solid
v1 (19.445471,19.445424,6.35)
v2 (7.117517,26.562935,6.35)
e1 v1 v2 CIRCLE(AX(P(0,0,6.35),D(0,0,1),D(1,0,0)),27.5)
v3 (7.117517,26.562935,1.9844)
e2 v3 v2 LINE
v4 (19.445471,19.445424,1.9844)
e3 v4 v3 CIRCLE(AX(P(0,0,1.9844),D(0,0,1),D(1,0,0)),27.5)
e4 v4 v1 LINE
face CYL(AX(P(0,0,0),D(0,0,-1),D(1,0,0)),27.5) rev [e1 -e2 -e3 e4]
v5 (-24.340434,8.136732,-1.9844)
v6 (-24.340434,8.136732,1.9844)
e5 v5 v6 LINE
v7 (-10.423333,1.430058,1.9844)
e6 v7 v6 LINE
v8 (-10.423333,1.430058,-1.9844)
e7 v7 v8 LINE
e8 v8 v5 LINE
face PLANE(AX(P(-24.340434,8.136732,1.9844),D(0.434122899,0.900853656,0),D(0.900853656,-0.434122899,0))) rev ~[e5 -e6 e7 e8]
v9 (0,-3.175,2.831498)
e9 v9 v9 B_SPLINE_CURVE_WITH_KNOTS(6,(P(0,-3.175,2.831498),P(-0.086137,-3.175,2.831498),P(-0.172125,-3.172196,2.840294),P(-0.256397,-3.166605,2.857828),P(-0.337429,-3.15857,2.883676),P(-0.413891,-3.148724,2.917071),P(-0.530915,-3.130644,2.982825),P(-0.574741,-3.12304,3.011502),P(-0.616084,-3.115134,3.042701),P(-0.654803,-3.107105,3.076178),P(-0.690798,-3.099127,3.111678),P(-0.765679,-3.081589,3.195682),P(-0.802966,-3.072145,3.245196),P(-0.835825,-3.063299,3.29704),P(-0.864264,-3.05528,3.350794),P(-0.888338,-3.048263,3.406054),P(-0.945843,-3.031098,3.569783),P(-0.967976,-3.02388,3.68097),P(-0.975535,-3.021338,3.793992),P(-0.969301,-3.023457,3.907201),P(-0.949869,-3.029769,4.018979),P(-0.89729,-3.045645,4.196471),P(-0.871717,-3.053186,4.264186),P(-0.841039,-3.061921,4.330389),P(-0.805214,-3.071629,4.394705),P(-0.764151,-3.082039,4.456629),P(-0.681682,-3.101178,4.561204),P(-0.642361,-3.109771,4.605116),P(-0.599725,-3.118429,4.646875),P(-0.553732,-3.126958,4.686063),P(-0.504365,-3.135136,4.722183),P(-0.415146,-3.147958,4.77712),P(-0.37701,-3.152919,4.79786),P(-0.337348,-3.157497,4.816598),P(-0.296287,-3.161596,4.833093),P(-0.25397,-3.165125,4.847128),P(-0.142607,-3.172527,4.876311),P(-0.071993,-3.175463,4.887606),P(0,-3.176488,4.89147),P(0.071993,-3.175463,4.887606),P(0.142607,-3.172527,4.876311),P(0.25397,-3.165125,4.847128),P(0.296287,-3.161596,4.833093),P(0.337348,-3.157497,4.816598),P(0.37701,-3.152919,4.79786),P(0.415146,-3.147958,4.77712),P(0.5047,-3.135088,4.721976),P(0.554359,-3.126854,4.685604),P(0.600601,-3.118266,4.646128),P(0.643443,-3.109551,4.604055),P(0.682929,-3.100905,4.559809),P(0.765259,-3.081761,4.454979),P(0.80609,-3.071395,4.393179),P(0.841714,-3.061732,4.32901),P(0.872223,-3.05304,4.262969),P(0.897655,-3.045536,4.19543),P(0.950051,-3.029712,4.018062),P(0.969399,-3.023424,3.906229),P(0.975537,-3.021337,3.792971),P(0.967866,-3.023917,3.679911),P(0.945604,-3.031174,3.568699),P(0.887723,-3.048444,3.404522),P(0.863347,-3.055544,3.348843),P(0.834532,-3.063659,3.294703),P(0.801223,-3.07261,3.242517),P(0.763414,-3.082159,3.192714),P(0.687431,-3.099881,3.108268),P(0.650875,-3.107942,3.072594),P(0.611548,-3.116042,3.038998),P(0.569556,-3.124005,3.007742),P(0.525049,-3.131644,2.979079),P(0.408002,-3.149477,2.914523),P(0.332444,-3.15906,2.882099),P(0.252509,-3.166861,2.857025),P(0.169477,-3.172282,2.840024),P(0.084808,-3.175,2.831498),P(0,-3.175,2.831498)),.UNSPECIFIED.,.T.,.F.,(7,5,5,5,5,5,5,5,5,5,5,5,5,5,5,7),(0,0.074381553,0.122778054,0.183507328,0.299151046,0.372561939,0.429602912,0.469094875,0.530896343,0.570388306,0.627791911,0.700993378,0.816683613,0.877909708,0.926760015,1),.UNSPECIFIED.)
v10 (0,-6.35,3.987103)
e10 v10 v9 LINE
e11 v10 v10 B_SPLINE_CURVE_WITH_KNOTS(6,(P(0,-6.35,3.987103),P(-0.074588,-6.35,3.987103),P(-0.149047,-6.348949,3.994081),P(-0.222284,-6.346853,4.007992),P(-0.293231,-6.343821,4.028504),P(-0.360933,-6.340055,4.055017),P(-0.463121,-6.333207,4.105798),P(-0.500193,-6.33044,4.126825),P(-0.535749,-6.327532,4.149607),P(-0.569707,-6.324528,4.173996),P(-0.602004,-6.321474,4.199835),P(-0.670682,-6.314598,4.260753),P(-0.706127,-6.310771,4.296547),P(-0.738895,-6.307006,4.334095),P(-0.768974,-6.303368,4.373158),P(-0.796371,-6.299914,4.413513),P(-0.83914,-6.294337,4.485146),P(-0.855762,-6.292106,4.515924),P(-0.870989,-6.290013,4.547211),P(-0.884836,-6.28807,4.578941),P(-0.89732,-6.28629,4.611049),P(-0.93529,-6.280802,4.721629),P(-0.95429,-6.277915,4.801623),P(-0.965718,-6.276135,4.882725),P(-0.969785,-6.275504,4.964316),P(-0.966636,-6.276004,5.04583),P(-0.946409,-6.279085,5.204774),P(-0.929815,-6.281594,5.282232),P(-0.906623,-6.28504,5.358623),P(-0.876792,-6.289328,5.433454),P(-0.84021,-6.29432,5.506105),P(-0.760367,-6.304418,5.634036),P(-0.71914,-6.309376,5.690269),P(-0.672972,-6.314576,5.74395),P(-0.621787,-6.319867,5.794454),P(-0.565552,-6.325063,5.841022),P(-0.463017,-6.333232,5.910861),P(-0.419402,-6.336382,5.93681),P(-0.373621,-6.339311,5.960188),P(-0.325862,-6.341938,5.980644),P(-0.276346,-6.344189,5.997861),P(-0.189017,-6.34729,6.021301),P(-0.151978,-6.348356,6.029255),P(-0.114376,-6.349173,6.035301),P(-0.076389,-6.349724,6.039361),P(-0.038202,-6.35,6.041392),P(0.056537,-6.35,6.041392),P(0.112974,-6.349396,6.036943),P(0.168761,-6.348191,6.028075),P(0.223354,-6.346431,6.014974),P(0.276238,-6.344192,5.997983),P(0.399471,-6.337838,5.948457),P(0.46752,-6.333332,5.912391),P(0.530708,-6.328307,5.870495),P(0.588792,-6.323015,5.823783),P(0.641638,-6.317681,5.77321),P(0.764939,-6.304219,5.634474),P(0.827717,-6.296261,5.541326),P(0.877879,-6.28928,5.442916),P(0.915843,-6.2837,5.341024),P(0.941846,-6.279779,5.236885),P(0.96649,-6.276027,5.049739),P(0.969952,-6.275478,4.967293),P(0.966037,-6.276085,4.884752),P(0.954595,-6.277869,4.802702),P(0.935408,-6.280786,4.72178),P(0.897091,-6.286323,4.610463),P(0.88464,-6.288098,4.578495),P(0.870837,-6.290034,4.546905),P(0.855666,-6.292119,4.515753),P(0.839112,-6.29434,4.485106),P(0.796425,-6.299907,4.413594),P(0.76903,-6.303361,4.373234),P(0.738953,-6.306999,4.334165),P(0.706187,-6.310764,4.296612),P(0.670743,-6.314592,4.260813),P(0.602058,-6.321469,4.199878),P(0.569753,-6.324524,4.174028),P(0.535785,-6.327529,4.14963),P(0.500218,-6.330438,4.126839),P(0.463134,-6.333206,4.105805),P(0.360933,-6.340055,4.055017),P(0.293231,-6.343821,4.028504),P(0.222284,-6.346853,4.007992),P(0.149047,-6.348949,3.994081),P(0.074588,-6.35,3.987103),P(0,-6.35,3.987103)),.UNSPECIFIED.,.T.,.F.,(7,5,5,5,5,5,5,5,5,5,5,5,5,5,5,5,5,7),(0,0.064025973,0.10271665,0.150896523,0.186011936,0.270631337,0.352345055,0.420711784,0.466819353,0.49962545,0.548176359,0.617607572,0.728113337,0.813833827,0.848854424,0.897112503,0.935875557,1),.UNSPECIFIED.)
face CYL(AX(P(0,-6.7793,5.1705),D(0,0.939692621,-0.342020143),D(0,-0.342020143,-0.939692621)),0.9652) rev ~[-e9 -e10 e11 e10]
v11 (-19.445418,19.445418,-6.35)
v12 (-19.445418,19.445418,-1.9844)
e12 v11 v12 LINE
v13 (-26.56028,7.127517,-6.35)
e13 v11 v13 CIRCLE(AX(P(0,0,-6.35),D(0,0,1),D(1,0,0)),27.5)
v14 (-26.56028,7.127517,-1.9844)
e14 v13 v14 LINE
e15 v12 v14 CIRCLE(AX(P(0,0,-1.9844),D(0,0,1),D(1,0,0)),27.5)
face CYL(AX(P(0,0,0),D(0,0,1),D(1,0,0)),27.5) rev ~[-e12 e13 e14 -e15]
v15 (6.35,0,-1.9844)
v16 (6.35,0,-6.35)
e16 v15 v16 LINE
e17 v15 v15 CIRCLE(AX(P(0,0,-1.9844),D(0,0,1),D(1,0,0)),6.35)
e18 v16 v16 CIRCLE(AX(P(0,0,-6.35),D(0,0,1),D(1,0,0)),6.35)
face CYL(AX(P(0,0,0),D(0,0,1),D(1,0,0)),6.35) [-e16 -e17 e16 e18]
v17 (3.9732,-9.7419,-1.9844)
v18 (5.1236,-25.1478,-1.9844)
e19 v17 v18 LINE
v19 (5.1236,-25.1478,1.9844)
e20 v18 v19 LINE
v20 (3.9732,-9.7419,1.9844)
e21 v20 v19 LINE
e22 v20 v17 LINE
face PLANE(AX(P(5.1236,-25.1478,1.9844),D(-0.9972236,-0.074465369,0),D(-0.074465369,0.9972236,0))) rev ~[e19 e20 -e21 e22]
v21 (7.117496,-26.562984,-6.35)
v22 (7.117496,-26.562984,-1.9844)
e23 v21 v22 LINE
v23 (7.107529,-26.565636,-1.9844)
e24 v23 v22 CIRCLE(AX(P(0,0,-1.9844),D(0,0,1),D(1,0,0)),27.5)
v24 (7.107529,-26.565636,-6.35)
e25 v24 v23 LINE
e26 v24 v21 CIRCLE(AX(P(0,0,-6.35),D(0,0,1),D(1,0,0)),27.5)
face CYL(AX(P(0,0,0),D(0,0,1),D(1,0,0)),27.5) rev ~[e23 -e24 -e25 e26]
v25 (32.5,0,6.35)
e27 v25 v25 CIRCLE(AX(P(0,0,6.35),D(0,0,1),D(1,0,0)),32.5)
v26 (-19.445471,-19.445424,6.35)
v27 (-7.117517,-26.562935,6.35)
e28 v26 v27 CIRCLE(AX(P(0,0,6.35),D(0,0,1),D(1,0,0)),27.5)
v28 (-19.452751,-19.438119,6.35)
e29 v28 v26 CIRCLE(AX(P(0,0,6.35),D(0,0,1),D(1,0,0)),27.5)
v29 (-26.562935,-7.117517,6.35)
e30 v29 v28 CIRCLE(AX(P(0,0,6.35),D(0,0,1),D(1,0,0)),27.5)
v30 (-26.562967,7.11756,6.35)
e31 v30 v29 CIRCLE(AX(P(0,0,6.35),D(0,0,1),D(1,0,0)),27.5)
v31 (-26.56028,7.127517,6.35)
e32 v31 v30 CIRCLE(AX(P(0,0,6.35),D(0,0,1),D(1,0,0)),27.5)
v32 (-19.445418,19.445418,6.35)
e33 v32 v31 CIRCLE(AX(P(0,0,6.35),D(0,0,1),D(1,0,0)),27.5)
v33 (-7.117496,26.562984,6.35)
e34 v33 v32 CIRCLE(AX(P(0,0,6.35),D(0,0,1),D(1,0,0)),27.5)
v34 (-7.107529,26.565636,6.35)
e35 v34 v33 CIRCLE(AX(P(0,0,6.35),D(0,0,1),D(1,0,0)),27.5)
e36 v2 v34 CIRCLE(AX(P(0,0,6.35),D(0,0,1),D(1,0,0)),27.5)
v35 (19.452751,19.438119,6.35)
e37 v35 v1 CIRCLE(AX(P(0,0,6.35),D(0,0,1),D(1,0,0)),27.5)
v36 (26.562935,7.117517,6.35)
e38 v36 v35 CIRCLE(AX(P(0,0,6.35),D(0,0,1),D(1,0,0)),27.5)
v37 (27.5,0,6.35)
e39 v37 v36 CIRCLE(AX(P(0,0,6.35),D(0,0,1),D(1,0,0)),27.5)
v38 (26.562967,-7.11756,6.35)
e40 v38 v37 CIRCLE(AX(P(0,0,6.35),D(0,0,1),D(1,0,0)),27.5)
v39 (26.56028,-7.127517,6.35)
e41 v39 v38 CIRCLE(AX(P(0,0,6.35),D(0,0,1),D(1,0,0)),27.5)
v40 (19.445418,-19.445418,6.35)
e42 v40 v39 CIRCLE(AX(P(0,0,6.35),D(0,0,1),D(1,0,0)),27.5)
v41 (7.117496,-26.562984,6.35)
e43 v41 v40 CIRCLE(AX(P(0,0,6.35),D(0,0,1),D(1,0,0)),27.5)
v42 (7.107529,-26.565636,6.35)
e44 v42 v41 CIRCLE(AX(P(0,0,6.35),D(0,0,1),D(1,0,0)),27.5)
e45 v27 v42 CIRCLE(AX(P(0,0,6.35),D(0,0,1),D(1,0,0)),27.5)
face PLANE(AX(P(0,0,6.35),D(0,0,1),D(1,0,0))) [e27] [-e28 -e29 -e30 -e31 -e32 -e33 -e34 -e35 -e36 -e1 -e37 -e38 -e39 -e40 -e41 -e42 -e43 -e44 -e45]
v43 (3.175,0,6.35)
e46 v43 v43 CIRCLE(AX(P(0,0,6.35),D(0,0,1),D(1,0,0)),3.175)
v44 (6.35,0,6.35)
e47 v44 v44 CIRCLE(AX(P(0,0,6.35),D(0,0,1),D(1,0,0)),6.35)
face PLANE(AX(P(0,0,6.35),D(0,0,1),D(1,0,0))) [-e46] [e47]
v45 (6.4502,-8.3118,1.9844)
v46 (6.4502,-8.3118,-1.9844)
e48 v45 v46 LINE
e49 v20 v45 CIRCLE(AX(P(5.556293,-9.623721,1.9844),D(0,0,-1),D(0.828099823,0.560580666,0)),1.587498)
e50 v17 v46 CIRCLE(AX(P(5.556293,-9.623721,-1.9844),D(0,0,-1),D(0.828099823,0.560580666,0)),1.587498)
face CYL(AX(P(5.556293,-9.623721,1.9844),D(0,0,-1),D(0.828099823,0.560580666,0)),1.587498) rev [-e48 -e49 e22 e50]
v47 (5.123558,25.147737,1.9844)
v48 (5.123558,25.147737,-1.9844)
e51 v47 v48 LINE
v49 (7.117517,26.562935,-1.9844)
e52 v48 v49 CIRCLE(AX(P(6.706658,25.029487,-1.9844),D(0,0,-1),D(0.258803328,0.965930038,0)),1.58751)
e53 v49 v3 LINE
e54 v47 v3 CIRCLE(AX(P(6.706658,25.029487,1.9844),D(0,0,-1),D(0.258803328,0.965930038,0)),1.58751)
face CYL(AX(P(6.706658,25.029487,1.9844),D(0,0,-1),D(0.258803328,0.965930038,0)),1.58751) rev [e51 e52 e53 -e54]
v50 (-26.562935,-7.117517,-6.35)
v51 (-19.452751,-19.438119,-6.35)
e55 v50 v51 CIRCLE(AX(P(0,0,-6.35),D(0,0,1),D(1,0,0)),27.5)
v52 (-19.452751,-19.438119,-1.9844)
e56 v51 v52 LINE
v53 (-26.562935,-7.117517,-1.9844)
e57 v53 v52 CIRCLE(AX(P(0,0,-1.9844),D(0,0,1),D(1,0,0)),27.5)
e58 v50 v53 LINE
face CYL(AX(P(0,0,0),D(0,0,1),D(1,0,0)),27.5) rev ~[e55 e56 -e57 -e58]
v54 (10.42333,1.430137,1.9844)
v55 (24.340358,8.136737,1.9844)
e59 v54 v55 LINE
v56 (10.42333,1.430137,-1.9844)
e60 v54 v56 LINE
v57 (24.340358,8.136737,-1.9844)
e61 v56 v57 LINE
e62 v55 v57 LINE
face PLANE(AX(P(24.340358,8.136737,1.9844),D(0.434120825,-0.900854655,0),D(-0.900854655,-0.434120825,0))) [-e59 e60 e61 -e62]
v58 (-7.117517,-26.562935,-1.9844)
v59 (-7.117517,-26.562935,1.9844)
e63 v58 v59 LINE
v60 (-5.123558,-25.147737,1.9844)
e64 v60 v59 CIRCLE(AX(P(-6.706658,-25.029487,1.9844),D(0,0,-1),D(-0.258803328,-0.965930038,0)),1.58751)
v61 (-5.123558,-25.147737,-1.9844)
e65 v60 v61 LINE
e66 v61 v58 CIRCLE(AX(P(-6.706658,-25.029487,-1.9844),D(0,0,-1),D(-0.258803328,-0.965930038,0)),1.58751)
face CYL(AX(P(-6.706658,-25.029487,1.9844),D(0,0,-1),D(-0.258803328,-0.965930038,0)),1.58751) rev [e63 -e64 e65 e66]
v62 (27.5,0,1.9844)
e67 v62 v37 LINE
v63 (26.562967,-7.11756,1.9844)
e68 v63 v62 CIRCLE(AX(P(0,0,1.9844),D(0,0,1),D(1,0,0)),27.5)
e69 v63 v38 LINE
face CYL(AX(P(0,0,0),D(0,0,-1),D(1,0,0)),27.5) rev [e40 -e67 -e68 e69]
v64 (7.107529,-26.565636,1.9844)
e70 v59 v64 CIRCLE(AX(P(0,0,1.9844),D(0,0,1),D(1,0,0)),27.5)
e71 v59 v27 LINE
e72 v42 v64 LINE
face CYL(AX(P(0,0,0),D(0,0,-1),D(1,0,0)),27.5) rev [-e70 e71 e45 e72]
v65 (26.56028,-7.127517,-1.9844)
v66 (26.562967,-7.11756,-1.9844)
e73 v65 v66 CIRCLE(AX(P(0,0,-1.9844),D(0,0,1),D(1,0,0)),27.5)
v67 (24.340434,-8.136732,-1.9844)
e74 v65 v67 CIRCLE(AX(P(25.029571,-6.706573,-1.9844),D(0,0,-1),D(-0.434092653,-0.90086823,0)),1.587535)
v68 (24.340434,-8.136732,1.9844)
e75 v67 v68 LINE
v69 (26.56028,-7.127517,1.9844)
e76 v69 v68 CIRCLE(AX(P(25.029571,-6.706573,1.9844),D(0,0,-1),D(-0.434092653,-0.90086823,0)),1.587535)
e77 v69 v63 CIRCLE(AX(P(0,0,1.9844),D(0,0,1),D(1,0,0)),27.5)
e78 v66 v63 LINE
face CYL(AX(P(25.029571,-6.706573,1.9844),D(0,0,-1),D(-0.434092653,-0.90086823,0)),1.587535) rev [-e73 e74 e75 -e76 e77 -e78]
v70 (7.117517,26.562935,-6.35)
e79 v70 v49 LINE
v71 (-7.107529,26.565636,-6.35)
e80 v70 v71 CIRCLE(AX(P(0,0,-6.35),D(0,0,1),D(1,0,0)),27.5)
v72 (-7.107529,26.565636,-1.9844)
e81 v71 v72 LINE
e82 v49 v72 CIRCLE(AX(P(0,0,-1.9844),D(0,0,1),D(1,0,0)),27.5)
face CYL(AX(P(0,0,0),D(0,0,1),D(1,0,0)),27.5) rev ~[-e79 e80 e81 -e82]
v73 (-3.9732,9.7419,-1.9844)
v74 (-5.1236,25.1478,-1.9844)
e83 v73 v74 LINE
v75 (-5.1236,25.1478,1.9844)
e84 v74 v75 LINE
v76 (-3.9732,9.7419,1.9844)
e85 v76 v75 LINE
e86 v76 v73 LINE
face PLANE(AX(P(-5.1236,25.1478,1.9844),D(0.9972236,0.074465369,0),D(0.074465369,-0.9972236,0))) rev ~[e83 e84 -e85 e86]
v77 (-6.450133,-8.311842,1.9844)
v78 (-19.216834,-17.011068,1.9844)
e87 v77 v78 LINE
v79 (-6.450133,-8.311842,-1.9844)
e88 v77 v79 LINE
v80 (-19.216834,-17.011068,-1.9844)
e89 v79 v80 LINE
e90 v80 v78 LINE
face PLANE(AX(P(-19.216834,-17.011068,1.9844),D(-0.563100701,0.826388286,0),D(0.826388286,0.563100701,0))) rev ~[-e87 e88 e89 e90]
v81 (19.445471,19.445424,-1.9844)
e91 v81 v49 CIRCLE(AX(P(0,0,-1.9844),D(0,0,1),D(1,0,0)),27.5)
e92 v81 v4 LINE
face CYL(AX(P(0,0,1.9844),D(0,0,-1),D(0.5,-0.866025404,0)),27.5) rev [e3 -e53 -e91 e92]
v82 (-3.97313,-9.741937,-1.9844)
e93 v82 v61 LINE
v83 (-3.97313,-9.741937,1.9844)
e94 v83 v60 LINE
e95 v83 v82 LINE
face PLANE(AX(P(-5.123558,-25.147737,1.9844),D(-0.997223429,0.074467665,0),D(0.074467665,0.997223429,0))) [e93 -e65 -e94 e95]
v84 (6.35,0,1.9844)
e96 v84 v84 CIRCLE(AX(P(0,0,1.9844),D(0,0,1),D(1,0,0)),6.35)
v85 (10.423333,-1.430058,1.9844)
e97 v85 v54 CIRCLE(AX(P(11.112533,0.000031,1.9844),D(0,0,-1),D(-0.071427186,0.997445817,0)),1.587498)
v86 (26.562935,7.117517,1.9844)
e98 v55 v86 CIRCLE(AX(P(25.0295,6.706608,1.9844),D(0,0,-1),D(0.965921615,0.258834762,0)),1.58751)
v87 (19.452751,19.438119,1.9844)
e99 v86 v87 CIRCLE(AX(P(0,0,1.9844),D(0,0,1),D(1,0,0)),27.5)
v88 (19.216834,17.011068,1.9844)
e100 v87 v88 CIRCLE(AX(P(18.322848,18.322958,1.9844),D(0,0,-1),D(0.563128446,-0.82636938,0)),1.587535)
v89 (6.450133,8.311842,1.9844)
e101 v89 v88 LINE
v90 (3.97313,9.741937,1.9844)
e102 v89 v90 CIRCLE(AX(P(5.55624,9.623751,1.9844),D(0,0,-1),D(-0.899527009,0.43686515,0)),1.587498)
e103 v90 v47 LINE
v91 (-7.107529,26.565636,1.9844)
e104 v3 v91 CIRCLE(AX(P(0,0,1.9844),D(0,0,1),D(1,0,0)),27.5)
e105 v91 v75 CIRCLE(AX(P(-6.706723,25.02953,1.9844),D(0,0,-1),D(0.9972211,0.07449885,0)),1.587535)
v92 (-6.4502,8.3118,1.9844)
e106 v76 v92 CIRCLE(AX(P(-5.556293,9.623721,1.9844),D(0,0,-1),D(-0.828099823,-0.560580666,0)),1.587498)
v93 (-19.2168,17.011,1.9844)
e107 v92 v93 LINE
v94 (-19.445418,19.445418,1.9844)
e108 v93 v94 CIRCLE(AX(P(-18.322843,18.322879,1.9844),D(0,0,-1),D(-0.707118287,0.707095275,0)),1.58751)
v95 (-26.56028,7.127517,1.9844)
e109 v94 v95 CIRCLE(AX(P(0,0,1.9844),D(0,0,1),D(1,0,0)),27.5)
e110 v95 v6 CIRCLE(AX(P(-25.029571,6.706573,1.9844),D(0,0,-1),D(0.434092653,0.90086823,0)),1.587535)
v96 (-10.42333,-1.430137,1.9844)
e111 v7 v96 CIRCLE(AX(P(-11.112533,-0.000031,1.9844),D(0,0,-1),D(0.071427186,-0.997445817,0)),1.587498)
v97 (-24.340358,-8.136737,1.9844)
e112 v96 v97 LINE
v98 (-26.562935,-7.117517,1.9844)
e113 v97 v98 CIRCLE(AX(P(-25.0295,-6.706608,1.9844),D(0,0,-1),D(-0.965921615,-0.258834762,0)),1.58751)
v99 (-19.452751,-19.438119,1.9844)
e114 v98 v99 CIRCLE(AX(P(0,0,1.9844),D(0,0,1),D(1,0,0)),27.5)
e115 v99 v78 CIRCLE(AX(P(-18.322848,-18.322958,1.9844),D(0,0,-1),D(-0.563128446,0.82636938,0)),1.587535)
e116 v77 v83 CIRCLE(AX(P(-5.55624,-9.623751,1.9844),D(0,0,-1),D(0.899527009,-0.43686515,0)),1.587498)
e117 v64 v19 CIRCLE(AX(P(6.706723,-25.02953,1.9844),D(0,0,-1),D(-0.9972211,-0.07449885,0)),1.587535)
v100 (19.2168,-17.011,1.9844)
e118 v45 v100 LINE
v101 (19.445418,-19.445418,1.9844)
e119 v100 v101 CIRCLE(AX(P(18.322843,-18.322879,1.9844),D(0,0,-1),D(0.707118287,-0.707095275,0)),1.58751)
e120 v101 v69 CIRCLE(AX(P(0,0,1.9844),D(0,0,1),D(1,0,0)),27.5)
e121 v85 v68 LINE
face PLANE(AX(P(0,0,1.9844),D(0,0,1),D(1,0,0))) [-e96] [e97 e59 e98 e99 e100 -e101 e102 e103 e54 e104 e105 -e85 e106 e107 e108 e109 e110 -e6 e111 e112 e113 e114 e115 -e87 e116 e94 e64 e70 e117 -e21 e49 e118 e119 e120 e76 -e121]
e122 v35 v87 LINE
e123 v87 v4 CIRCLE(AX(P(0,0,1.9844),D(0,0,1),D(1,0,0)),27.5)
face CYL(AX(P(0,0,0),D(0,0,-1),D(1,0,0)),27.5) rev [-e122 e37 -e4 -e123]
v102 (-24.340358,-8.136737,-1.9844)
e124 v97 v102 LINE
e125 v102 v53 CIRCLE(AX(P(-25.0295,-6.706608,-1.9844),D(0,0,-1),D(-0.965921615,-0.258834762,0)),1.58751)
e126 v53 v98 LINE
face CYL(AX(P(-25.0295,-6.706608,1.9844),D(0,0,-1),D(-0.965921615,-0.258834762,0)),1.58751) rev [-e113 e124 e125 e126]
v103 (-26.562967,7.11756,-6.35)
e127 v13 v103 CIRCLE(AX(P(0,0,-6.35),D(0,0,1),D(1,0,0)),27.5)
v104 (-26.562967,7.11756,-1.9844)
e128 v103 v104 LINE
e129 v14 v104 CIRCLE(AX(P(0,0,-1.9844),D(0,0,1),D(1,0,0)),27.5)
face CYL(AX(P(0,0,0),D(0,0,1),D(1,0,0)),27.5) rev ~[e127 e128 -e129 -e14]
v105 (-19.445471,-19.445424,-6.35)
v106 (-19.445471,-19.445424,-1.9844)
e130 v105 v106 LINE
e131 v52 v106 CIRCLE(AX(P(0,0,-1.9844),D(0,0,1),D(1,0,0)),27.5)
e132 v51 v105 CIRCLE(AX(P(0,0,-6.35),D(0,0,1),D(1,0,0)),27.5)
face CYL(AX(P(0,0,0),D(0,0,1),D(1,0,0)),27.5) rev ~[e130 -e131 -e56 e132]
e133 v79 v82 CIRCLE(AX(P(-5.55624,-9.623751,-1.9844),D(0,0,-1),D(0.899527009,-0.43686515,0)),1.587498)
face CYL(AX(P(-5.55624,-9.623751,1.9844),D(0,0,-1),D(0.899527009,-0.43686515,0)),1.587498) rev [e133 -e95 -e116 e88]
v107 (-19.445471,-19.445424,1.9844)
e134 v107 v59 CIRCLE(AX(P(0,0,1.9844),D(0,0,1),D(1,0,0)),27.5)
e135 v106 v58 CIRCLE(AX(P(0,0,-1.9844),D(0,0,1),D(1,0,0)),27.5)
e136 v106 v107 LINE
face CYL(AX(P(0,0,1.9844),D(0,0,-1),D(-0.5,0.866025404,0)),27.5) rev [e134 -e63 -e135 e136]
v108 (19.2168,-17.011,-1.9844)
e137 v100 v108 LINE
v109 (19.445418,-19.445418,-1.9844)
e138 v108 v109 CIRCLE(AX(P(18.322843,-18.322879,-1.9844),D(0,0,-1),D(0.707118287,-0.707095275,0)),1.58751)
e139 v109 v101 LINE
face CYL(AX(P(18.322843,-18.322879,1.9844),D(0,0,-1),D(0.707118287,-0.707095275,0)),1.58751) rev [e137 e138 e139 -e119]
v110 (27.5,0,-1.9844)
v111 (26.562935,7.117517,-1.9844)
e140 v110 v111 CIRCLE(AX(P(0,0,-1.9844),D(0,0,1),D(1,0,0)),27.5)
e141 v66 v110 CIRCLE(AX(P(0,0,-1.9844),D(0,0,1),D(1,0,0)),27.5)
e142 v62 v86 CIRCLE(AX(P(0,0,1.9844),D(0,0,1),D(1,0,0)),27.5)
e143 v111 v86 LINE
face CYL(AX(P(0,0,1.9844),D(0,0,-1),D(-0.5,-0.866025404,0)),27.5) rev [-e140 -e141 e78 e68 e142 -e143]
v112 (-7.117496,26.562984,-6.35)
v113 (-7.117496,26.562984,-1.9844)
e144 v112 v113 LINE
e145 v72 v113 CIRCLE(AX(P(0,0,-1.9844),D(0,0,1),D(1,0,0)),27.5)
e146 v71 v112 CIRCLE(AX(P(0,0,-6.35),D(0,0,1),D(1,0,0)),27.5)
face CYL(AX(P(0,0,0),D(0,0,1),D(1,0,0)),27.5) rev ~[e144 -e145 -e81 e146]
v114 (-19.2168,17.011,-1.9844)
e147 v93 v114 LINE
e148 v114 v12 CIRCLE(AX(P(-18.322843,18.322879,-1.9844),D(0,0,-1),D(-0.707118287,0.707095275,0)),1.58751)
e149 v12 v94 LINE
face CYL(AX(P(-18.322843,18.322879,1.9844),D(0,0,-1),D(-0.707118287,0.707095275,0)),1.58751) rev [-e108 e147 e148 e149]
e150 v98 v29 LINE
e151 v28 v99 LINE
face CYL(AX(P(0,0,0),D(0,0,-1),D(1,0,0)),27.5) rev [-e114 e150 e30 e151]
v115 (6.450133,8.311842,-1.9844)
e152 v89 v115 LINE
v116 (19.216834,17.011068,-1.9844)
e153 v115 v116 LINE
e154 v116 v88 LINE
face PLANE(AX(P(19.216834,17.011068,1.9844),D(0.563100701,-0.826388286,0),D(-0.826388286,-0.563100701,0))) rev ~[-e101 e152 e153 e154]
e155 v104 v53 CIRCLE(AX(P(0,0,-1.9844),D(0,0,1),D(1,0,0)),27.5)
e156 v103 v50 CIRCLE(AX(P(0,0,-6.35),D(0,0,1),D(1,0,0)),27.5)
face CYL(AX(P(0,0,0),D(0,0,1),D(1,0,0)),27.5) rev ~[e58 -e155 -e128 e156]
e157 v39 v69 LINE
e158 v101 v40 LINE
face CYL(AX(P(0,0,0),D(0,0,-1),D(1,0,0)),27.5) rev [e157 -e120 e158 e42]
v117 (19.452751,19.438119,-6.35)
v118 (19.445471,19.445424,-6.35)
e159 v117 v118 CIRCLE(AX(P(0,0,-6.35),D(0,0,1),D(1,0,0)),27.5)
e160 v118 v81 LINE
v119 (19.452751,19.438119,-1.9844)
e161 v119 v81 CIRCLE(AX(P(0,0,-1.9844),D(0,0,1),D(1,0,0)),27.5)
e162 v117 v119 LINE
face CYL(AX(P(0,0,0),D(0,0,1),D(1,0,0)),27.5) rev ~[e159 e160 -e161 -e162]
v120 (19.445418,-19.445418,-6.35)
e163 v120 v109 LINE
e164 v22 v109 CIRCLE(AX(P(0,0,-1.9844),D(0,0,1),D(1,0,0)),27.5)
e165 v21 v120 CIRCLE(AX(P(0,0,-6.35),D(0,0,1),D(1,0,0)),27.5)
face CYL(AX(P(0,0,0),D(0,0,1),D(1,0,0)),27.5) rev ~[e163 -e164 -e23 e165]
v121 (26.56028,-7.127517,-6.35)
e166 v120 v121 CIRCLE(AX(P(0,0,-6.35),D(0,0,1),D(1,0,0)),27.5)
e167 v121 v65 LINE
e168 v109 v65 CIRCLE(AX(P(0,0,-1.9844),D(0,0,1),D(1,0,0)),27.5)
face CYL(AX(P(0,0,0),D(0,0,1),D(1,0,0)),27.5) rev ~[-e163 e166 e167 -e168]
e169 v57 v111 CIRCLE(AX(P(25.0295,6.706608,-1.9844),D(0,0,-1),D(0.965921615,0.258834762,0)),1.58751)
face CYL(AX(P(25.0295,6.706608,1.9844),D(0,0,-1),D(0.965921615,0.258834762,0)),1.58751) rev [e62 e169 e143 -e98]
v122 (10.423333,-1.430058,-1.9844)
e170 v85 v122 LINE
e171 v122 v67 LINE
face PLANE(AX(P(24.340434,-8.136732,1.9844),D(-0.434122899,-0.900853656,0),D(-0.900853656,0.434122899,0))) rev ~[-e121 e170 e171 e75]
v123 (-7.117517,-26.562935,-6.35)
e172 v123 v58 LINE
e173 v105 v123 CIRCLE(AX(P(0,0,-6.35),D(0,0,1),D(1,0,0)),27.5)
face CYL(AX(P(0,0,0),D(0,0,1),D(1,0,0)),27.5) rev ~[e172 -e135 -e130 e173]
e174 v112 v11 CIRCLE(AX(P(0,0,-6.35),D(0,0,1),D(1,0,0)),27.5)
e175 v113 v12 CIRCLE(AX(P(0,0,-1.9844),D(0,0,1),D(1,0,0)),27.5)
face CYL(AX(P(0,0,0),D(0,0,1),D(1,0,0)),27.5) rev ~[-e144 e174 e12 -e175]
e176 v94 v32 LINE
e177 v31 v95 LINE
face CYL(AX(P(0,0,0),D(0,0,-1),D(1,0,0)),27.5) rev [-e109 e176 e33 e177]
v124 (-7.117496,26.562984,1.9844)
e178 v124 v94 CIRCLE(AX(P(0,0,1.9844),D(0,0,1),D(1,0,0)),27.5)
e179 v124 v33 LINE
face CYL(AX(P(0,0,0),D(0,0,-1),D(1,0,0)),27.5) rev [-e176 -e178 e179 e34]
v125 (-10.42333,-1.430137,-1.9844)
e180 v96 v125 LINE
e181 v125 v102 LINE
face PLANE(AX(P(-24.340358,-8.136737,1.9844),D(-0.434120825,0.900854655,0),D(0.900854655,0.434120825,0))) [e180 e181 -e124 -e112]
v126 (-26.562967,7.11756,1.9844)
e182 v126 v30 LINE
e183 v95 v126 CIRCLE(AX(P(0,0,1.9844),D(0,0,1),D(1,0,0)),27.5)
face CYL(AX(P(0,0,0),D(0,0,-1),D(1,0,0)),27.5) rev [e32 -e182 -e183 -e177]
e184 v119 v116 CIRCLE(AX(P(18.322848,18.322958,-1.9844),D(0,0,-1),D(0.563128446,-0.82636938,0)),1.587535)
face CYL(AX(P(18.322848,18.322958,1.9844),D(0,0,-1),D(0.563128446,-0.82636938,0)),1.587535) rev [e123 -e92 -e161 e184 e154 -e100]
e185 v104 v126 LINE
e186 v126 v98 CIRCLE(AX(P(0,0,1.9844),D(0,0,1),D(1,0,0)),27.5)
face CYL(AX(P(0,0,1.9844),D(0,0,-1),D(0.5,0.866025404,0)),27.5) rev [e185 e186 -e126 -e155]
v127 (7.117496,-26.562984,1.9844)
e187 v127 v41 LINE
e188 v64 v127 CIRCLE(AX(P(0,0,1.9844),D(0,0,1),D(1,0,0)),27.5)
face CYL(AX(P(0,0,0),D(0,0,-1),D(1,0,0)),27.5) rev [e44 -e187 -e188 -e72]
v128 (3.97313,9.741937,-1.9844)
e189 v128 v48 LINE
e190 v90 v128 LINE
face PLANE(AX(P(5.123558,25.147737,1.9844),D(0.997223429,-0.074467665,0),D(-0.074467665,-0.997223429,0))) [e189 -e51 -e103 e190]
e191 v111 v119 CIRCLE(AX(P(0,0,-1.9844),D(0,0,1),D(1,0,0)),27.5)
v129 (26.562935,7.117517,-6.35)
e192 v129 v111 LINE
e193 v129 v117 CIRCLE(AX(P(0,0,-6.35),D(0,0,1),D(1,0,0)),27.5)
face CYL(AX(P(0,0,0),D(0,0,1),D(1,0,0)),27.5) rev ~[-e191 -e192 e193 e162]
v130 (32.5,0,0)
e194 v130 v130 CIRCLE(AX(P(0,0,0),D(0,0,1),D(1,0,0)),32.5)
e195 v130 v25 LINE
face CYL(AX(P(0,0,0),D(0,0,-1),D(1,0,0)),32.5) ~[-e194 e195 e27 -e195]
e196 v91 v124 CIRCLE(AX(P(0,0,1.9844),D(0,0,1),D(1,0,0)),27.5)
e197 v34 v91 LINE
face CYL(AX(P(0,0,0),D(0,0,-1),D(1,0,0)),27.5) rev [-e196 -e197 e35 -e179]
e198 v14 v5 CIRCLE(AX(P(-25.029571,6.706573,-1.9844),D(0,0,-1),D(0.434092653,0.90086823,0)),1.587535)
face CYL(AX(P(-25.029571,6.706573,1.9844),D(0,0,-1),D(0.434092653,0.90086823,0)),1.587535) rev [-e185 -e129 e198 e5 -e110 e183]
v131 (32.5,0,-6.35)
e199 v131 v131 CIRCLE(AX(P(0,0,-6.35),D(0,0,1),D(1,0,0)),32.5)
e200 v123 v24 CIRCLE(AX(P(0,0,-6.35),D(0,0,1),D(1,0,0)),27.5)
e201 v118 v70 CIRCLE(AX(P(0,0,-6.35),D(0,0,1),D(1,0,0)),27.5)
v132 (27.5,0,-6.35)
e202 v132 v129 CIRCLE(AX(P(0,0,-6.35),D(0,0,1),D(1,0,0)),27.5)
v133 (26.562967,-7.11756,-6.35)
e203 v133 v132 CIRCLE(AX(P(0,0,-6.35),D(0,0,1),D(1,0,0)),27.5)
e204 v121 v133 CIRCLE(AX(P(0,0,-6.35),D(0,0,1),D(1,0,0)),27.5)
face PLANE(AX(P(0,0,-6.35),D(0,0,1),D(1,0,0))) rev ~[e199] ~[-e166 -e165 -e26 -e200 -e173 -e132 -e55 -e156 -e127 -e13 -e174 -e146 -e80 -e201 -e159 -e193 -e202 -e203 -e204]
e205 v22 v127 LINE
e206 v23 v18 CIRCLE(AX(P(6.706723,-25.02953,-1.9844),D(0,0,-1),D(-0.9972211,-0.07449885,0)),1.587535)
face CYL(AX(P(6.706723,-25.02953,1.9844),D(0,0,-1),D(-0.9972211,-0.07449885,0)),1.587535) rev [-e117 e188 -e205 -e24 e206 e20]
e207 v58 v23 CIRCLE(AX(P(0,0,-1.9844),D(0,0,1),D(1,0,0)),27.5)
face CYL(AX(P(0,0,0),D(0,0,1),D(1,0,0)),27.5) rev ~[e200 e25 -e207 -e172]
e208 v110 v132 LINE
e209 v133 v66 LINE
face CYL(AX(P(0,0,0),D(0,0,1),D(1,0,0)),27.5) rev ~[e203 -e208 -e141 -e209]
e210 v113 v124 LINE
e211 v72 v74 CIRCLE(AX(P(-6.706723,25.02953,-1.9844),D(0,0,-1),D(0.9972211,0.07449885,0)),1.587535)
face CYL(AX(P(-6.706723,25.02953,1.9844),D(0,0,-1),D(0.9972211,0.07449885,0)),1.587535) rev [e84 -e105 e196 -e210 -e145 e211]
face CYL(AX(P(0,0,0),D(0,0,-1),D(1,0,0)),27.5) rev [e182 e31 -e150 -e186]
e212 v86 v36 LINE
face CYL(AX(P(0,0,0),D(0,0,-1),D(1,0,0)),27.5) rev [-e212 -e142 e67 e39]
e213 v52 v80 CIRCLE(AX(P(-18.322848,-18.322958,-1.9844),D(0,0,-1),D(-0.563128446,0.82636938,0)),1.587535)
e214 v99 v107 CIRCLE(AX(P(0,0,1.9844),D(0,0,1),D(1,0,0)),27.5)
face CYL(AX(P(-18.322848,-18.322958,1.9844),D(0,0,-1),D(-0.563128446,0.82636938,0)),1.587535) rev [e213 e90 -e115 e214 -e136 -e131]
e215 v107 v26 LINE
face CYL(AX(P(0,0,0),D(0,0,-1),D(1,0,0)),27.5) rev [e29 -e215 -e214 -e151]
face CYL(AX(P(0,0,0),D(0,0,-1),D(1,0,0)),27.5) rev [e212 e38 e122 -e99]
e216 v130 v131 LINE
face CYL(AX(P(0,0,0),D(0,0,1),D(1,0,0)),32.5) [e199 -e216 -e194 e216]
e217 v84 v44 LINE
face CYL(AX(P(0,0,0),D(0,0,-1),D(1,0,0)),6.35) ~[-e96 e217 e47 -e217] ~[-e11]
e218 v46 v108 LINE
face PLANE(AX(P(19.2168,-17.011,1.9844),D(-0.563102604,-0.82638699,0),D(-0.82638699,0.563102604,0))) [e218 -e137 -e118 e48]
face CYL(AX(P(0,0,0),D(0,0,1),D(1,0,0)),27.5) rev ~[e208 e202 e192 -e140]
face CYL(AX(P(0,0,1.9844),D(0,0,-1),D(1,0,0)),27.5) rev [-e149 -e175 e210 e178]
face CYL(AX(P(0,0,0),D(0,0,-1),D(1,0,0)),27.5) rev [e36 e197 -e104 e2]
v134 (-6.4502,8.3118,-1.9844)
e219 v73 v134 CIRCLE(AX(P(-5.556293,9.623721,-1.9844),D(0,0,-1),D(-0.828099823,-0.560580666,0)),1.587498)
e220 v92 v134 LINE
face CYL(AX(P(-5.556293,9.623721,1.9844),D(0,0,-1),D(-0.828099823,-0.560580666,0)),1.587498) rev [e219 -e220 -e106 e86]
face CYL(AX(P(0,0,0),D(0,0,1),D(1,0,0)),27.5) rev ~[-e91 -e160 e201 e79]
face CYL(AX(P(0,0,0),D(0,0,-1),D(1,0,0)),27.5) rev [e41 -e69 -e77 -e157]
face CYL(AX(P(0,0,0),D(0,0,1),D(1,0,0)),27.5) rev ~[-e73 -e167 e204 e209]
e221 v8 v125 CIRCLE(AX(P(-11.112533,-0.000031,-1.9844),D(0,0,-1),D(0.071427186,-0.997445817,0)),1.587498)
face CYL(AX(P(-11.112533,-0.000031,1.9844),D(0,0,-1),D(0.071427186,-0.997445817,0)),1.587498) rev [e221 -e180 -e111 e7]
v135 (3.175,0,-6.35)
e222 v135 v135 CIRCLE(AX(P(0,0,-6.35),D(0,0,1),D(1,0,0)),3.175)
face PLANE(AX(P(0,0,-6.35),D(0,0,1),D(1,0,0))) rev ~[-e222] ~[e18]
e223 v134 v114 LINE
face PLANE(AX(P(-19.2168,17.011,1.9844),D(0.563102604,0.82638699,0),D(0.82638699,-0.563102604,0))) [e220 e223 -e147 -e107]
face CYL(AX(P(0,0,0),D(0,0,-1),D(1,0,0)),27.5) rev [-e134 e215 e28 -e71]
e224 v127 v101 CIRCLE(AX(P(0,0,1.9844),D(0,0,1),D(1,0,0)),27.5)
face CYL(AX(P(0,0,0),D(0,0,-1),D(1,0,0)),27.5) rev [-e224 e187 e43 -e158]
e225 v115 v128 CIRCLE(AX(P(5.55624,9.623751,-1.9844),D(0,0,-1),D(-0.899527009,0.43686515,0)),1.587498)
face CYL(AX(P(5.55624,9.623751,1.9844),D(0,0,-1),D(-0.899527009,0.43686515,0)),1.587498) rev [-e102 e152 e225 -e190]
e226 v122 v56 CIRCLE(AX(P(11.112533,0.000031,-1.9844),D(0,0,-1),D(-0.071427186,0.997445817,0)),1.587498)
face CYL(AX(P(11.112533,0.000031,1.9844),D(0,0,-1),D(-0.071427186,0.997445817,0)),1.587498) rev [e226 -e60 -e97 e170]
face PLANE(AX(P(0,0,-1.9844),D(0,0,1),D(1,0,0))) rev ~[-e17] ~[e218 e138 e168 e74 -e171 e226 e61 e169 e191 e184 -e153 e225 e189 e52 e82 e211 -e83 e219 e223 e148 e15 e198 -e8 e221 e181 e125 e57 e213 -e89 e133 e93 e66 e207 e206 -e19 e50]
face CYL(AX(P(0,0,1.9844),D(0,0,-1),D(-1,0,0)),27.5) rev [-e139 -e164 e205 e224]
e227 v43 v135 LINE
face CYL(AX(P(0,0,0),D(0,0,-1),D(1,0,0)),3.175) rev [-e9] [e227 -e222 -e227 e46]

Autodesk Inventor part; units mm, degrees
ref_plane "YZ Plane (RIGHT)" through (0, 0, 0) normal (1, 0, 0) x (0, 1, 0)
ref_plane "XY Plane (FRONT)" through (0, 0, 0) normal (0, 0, 1) x (1, 0, 0)
sketch "Sketch2" plane through (0, 0, 0) normal (0, 0, 1) x (1, 0, 0)
  circle A0 centre (0, 0) radius 3.175
  circle A1 centre (0, 0) radius 6.35
  dimension "d0" = 6.35
  dimension "d1" = 12.7
extrude "Extrusion1" add sketch "Sketch2" along normal mid plane 12.7
sketch "Sketch3" plane through (0, 0, 0) normal (0, 0, 1) x (1, 0, 0)
  circle A0 centre (0, 0) radius 27.5
  circle A1 centre (0, 0) radius 3.175 projected
  circle A2 centre (0, 0) radius 6.35
  circle A3 centre (0, 0) radius 6.35 projected
  dimension "d4" = 55
extrude "Extrusion2" add sketch "Sketch3" along normal mid plane 3.9688 contours A0
sketch "Sketch4" plane through (0, 0, 0) normal (0, 0, 1) x (1, 0, 0)
  circle A0 centre (0, 0) radius 3.175 projected
  circle A1 centre (0, 0) radius 32.5
  circle A2 centre (0, 0) radius 27.5
  circle A3 centre (0, 0) radius 27.5 projected
  dimension "d7" = 65
extrude "Extrusion3" add sketch "Sketch4" along normal mid plane 12.7 contours A1
sketch "Sketch7" plane through (0, 0, 1.9844) normal (0, 0, 1) x (1, 0, 0)
  circle A0 centre (0, 0) radius 3.175 construction
  line L0 (0, 0) -> (-6.7066, 25.0296) construction
  arc A1 (-5.1236, 25.1478) -> (-7.1175, 26.563) centre (-6.7066, 25.0296) ccw
  circle A2 centre (0, 0) radius 27.5 projected
  line L1 (0, 0) -> (0, 17.8508) construction
  arc A3 (-6.8709, 8.7338) -> (-3.9732, 9.7419) centre (-5.5563, 9.6237) ccw
  line L2 (0, 0) -> (-5.5563, 9.6237) construction
  circle A4 centre (0, 0) radius 11.1125 construction
  arc A5 (-19.4454, 19.4454) -> (-19.2168, 17.011) centre (-18.3229, 18.3229) ccw
  line L3 (-18.3229, 18.3229) -> (0, 0) construction
  line L4 (-19.2168, 17.011) -> (-6.4502, 8.3118)
  line L5 (-5.1236, 25.1478) -> (-3.9732, 9.7419)
  arc A6 (-7.1175, 26.563) -> (-19.4454, 19.4454) centre (0, 0) ccw
  dimension "d17" = 3.175
  dimension "d18" = 15
  dimension "d19" = 30
  dimension "d20" = 22.225
  dimension "d21" = 30
extrude "Extrusion4" cut sketch "Sketch7" along normal through all both and the other way through all contours L5 A3 L4 A5 A2 A1 picked at (-13.8134, 15.9498)
pattern_circular "Circular Pattern1" count 6 over 360 about axis through (0, 0, 0) along (0, 0, 1) of "Extrusion4"
ref_plane "Work Plane1" through (0, -6.35, 0) normal (0, 1, 0) x (-1, 0, 0)
sketch "Sketch8" plane through (0, -6.35, 0) normal (0, 1, 0) x (-1, 0, 0)
  line L0 (-16.7863, 6.35) -> (14.809, 6.35) construction
  point P0 (0, 0)
  dimension "d27" = 6.35
ref_plane "Work Plane2" through (16.7863, -6.35, 6.35) normal (0, -0.9397, 0.342) x (1, 0, 0)
sketch "Sketch9" plane through (16.7863, -6.35, 6.35) normal (0, -0.9397, 0.342) x (1, 0, 0)
  point P0 (-16.7863, -3.7952)
  point P1 (-16.7863, -1.2552)
  dimension "d29" = 2.54
hole "Hole1" at (0, -6.7793, 5.1705) direction (0, 0.9397, -0.342) diameter 1.9304 depth 7.62 tip angle 118
properties part number "flywheel"
